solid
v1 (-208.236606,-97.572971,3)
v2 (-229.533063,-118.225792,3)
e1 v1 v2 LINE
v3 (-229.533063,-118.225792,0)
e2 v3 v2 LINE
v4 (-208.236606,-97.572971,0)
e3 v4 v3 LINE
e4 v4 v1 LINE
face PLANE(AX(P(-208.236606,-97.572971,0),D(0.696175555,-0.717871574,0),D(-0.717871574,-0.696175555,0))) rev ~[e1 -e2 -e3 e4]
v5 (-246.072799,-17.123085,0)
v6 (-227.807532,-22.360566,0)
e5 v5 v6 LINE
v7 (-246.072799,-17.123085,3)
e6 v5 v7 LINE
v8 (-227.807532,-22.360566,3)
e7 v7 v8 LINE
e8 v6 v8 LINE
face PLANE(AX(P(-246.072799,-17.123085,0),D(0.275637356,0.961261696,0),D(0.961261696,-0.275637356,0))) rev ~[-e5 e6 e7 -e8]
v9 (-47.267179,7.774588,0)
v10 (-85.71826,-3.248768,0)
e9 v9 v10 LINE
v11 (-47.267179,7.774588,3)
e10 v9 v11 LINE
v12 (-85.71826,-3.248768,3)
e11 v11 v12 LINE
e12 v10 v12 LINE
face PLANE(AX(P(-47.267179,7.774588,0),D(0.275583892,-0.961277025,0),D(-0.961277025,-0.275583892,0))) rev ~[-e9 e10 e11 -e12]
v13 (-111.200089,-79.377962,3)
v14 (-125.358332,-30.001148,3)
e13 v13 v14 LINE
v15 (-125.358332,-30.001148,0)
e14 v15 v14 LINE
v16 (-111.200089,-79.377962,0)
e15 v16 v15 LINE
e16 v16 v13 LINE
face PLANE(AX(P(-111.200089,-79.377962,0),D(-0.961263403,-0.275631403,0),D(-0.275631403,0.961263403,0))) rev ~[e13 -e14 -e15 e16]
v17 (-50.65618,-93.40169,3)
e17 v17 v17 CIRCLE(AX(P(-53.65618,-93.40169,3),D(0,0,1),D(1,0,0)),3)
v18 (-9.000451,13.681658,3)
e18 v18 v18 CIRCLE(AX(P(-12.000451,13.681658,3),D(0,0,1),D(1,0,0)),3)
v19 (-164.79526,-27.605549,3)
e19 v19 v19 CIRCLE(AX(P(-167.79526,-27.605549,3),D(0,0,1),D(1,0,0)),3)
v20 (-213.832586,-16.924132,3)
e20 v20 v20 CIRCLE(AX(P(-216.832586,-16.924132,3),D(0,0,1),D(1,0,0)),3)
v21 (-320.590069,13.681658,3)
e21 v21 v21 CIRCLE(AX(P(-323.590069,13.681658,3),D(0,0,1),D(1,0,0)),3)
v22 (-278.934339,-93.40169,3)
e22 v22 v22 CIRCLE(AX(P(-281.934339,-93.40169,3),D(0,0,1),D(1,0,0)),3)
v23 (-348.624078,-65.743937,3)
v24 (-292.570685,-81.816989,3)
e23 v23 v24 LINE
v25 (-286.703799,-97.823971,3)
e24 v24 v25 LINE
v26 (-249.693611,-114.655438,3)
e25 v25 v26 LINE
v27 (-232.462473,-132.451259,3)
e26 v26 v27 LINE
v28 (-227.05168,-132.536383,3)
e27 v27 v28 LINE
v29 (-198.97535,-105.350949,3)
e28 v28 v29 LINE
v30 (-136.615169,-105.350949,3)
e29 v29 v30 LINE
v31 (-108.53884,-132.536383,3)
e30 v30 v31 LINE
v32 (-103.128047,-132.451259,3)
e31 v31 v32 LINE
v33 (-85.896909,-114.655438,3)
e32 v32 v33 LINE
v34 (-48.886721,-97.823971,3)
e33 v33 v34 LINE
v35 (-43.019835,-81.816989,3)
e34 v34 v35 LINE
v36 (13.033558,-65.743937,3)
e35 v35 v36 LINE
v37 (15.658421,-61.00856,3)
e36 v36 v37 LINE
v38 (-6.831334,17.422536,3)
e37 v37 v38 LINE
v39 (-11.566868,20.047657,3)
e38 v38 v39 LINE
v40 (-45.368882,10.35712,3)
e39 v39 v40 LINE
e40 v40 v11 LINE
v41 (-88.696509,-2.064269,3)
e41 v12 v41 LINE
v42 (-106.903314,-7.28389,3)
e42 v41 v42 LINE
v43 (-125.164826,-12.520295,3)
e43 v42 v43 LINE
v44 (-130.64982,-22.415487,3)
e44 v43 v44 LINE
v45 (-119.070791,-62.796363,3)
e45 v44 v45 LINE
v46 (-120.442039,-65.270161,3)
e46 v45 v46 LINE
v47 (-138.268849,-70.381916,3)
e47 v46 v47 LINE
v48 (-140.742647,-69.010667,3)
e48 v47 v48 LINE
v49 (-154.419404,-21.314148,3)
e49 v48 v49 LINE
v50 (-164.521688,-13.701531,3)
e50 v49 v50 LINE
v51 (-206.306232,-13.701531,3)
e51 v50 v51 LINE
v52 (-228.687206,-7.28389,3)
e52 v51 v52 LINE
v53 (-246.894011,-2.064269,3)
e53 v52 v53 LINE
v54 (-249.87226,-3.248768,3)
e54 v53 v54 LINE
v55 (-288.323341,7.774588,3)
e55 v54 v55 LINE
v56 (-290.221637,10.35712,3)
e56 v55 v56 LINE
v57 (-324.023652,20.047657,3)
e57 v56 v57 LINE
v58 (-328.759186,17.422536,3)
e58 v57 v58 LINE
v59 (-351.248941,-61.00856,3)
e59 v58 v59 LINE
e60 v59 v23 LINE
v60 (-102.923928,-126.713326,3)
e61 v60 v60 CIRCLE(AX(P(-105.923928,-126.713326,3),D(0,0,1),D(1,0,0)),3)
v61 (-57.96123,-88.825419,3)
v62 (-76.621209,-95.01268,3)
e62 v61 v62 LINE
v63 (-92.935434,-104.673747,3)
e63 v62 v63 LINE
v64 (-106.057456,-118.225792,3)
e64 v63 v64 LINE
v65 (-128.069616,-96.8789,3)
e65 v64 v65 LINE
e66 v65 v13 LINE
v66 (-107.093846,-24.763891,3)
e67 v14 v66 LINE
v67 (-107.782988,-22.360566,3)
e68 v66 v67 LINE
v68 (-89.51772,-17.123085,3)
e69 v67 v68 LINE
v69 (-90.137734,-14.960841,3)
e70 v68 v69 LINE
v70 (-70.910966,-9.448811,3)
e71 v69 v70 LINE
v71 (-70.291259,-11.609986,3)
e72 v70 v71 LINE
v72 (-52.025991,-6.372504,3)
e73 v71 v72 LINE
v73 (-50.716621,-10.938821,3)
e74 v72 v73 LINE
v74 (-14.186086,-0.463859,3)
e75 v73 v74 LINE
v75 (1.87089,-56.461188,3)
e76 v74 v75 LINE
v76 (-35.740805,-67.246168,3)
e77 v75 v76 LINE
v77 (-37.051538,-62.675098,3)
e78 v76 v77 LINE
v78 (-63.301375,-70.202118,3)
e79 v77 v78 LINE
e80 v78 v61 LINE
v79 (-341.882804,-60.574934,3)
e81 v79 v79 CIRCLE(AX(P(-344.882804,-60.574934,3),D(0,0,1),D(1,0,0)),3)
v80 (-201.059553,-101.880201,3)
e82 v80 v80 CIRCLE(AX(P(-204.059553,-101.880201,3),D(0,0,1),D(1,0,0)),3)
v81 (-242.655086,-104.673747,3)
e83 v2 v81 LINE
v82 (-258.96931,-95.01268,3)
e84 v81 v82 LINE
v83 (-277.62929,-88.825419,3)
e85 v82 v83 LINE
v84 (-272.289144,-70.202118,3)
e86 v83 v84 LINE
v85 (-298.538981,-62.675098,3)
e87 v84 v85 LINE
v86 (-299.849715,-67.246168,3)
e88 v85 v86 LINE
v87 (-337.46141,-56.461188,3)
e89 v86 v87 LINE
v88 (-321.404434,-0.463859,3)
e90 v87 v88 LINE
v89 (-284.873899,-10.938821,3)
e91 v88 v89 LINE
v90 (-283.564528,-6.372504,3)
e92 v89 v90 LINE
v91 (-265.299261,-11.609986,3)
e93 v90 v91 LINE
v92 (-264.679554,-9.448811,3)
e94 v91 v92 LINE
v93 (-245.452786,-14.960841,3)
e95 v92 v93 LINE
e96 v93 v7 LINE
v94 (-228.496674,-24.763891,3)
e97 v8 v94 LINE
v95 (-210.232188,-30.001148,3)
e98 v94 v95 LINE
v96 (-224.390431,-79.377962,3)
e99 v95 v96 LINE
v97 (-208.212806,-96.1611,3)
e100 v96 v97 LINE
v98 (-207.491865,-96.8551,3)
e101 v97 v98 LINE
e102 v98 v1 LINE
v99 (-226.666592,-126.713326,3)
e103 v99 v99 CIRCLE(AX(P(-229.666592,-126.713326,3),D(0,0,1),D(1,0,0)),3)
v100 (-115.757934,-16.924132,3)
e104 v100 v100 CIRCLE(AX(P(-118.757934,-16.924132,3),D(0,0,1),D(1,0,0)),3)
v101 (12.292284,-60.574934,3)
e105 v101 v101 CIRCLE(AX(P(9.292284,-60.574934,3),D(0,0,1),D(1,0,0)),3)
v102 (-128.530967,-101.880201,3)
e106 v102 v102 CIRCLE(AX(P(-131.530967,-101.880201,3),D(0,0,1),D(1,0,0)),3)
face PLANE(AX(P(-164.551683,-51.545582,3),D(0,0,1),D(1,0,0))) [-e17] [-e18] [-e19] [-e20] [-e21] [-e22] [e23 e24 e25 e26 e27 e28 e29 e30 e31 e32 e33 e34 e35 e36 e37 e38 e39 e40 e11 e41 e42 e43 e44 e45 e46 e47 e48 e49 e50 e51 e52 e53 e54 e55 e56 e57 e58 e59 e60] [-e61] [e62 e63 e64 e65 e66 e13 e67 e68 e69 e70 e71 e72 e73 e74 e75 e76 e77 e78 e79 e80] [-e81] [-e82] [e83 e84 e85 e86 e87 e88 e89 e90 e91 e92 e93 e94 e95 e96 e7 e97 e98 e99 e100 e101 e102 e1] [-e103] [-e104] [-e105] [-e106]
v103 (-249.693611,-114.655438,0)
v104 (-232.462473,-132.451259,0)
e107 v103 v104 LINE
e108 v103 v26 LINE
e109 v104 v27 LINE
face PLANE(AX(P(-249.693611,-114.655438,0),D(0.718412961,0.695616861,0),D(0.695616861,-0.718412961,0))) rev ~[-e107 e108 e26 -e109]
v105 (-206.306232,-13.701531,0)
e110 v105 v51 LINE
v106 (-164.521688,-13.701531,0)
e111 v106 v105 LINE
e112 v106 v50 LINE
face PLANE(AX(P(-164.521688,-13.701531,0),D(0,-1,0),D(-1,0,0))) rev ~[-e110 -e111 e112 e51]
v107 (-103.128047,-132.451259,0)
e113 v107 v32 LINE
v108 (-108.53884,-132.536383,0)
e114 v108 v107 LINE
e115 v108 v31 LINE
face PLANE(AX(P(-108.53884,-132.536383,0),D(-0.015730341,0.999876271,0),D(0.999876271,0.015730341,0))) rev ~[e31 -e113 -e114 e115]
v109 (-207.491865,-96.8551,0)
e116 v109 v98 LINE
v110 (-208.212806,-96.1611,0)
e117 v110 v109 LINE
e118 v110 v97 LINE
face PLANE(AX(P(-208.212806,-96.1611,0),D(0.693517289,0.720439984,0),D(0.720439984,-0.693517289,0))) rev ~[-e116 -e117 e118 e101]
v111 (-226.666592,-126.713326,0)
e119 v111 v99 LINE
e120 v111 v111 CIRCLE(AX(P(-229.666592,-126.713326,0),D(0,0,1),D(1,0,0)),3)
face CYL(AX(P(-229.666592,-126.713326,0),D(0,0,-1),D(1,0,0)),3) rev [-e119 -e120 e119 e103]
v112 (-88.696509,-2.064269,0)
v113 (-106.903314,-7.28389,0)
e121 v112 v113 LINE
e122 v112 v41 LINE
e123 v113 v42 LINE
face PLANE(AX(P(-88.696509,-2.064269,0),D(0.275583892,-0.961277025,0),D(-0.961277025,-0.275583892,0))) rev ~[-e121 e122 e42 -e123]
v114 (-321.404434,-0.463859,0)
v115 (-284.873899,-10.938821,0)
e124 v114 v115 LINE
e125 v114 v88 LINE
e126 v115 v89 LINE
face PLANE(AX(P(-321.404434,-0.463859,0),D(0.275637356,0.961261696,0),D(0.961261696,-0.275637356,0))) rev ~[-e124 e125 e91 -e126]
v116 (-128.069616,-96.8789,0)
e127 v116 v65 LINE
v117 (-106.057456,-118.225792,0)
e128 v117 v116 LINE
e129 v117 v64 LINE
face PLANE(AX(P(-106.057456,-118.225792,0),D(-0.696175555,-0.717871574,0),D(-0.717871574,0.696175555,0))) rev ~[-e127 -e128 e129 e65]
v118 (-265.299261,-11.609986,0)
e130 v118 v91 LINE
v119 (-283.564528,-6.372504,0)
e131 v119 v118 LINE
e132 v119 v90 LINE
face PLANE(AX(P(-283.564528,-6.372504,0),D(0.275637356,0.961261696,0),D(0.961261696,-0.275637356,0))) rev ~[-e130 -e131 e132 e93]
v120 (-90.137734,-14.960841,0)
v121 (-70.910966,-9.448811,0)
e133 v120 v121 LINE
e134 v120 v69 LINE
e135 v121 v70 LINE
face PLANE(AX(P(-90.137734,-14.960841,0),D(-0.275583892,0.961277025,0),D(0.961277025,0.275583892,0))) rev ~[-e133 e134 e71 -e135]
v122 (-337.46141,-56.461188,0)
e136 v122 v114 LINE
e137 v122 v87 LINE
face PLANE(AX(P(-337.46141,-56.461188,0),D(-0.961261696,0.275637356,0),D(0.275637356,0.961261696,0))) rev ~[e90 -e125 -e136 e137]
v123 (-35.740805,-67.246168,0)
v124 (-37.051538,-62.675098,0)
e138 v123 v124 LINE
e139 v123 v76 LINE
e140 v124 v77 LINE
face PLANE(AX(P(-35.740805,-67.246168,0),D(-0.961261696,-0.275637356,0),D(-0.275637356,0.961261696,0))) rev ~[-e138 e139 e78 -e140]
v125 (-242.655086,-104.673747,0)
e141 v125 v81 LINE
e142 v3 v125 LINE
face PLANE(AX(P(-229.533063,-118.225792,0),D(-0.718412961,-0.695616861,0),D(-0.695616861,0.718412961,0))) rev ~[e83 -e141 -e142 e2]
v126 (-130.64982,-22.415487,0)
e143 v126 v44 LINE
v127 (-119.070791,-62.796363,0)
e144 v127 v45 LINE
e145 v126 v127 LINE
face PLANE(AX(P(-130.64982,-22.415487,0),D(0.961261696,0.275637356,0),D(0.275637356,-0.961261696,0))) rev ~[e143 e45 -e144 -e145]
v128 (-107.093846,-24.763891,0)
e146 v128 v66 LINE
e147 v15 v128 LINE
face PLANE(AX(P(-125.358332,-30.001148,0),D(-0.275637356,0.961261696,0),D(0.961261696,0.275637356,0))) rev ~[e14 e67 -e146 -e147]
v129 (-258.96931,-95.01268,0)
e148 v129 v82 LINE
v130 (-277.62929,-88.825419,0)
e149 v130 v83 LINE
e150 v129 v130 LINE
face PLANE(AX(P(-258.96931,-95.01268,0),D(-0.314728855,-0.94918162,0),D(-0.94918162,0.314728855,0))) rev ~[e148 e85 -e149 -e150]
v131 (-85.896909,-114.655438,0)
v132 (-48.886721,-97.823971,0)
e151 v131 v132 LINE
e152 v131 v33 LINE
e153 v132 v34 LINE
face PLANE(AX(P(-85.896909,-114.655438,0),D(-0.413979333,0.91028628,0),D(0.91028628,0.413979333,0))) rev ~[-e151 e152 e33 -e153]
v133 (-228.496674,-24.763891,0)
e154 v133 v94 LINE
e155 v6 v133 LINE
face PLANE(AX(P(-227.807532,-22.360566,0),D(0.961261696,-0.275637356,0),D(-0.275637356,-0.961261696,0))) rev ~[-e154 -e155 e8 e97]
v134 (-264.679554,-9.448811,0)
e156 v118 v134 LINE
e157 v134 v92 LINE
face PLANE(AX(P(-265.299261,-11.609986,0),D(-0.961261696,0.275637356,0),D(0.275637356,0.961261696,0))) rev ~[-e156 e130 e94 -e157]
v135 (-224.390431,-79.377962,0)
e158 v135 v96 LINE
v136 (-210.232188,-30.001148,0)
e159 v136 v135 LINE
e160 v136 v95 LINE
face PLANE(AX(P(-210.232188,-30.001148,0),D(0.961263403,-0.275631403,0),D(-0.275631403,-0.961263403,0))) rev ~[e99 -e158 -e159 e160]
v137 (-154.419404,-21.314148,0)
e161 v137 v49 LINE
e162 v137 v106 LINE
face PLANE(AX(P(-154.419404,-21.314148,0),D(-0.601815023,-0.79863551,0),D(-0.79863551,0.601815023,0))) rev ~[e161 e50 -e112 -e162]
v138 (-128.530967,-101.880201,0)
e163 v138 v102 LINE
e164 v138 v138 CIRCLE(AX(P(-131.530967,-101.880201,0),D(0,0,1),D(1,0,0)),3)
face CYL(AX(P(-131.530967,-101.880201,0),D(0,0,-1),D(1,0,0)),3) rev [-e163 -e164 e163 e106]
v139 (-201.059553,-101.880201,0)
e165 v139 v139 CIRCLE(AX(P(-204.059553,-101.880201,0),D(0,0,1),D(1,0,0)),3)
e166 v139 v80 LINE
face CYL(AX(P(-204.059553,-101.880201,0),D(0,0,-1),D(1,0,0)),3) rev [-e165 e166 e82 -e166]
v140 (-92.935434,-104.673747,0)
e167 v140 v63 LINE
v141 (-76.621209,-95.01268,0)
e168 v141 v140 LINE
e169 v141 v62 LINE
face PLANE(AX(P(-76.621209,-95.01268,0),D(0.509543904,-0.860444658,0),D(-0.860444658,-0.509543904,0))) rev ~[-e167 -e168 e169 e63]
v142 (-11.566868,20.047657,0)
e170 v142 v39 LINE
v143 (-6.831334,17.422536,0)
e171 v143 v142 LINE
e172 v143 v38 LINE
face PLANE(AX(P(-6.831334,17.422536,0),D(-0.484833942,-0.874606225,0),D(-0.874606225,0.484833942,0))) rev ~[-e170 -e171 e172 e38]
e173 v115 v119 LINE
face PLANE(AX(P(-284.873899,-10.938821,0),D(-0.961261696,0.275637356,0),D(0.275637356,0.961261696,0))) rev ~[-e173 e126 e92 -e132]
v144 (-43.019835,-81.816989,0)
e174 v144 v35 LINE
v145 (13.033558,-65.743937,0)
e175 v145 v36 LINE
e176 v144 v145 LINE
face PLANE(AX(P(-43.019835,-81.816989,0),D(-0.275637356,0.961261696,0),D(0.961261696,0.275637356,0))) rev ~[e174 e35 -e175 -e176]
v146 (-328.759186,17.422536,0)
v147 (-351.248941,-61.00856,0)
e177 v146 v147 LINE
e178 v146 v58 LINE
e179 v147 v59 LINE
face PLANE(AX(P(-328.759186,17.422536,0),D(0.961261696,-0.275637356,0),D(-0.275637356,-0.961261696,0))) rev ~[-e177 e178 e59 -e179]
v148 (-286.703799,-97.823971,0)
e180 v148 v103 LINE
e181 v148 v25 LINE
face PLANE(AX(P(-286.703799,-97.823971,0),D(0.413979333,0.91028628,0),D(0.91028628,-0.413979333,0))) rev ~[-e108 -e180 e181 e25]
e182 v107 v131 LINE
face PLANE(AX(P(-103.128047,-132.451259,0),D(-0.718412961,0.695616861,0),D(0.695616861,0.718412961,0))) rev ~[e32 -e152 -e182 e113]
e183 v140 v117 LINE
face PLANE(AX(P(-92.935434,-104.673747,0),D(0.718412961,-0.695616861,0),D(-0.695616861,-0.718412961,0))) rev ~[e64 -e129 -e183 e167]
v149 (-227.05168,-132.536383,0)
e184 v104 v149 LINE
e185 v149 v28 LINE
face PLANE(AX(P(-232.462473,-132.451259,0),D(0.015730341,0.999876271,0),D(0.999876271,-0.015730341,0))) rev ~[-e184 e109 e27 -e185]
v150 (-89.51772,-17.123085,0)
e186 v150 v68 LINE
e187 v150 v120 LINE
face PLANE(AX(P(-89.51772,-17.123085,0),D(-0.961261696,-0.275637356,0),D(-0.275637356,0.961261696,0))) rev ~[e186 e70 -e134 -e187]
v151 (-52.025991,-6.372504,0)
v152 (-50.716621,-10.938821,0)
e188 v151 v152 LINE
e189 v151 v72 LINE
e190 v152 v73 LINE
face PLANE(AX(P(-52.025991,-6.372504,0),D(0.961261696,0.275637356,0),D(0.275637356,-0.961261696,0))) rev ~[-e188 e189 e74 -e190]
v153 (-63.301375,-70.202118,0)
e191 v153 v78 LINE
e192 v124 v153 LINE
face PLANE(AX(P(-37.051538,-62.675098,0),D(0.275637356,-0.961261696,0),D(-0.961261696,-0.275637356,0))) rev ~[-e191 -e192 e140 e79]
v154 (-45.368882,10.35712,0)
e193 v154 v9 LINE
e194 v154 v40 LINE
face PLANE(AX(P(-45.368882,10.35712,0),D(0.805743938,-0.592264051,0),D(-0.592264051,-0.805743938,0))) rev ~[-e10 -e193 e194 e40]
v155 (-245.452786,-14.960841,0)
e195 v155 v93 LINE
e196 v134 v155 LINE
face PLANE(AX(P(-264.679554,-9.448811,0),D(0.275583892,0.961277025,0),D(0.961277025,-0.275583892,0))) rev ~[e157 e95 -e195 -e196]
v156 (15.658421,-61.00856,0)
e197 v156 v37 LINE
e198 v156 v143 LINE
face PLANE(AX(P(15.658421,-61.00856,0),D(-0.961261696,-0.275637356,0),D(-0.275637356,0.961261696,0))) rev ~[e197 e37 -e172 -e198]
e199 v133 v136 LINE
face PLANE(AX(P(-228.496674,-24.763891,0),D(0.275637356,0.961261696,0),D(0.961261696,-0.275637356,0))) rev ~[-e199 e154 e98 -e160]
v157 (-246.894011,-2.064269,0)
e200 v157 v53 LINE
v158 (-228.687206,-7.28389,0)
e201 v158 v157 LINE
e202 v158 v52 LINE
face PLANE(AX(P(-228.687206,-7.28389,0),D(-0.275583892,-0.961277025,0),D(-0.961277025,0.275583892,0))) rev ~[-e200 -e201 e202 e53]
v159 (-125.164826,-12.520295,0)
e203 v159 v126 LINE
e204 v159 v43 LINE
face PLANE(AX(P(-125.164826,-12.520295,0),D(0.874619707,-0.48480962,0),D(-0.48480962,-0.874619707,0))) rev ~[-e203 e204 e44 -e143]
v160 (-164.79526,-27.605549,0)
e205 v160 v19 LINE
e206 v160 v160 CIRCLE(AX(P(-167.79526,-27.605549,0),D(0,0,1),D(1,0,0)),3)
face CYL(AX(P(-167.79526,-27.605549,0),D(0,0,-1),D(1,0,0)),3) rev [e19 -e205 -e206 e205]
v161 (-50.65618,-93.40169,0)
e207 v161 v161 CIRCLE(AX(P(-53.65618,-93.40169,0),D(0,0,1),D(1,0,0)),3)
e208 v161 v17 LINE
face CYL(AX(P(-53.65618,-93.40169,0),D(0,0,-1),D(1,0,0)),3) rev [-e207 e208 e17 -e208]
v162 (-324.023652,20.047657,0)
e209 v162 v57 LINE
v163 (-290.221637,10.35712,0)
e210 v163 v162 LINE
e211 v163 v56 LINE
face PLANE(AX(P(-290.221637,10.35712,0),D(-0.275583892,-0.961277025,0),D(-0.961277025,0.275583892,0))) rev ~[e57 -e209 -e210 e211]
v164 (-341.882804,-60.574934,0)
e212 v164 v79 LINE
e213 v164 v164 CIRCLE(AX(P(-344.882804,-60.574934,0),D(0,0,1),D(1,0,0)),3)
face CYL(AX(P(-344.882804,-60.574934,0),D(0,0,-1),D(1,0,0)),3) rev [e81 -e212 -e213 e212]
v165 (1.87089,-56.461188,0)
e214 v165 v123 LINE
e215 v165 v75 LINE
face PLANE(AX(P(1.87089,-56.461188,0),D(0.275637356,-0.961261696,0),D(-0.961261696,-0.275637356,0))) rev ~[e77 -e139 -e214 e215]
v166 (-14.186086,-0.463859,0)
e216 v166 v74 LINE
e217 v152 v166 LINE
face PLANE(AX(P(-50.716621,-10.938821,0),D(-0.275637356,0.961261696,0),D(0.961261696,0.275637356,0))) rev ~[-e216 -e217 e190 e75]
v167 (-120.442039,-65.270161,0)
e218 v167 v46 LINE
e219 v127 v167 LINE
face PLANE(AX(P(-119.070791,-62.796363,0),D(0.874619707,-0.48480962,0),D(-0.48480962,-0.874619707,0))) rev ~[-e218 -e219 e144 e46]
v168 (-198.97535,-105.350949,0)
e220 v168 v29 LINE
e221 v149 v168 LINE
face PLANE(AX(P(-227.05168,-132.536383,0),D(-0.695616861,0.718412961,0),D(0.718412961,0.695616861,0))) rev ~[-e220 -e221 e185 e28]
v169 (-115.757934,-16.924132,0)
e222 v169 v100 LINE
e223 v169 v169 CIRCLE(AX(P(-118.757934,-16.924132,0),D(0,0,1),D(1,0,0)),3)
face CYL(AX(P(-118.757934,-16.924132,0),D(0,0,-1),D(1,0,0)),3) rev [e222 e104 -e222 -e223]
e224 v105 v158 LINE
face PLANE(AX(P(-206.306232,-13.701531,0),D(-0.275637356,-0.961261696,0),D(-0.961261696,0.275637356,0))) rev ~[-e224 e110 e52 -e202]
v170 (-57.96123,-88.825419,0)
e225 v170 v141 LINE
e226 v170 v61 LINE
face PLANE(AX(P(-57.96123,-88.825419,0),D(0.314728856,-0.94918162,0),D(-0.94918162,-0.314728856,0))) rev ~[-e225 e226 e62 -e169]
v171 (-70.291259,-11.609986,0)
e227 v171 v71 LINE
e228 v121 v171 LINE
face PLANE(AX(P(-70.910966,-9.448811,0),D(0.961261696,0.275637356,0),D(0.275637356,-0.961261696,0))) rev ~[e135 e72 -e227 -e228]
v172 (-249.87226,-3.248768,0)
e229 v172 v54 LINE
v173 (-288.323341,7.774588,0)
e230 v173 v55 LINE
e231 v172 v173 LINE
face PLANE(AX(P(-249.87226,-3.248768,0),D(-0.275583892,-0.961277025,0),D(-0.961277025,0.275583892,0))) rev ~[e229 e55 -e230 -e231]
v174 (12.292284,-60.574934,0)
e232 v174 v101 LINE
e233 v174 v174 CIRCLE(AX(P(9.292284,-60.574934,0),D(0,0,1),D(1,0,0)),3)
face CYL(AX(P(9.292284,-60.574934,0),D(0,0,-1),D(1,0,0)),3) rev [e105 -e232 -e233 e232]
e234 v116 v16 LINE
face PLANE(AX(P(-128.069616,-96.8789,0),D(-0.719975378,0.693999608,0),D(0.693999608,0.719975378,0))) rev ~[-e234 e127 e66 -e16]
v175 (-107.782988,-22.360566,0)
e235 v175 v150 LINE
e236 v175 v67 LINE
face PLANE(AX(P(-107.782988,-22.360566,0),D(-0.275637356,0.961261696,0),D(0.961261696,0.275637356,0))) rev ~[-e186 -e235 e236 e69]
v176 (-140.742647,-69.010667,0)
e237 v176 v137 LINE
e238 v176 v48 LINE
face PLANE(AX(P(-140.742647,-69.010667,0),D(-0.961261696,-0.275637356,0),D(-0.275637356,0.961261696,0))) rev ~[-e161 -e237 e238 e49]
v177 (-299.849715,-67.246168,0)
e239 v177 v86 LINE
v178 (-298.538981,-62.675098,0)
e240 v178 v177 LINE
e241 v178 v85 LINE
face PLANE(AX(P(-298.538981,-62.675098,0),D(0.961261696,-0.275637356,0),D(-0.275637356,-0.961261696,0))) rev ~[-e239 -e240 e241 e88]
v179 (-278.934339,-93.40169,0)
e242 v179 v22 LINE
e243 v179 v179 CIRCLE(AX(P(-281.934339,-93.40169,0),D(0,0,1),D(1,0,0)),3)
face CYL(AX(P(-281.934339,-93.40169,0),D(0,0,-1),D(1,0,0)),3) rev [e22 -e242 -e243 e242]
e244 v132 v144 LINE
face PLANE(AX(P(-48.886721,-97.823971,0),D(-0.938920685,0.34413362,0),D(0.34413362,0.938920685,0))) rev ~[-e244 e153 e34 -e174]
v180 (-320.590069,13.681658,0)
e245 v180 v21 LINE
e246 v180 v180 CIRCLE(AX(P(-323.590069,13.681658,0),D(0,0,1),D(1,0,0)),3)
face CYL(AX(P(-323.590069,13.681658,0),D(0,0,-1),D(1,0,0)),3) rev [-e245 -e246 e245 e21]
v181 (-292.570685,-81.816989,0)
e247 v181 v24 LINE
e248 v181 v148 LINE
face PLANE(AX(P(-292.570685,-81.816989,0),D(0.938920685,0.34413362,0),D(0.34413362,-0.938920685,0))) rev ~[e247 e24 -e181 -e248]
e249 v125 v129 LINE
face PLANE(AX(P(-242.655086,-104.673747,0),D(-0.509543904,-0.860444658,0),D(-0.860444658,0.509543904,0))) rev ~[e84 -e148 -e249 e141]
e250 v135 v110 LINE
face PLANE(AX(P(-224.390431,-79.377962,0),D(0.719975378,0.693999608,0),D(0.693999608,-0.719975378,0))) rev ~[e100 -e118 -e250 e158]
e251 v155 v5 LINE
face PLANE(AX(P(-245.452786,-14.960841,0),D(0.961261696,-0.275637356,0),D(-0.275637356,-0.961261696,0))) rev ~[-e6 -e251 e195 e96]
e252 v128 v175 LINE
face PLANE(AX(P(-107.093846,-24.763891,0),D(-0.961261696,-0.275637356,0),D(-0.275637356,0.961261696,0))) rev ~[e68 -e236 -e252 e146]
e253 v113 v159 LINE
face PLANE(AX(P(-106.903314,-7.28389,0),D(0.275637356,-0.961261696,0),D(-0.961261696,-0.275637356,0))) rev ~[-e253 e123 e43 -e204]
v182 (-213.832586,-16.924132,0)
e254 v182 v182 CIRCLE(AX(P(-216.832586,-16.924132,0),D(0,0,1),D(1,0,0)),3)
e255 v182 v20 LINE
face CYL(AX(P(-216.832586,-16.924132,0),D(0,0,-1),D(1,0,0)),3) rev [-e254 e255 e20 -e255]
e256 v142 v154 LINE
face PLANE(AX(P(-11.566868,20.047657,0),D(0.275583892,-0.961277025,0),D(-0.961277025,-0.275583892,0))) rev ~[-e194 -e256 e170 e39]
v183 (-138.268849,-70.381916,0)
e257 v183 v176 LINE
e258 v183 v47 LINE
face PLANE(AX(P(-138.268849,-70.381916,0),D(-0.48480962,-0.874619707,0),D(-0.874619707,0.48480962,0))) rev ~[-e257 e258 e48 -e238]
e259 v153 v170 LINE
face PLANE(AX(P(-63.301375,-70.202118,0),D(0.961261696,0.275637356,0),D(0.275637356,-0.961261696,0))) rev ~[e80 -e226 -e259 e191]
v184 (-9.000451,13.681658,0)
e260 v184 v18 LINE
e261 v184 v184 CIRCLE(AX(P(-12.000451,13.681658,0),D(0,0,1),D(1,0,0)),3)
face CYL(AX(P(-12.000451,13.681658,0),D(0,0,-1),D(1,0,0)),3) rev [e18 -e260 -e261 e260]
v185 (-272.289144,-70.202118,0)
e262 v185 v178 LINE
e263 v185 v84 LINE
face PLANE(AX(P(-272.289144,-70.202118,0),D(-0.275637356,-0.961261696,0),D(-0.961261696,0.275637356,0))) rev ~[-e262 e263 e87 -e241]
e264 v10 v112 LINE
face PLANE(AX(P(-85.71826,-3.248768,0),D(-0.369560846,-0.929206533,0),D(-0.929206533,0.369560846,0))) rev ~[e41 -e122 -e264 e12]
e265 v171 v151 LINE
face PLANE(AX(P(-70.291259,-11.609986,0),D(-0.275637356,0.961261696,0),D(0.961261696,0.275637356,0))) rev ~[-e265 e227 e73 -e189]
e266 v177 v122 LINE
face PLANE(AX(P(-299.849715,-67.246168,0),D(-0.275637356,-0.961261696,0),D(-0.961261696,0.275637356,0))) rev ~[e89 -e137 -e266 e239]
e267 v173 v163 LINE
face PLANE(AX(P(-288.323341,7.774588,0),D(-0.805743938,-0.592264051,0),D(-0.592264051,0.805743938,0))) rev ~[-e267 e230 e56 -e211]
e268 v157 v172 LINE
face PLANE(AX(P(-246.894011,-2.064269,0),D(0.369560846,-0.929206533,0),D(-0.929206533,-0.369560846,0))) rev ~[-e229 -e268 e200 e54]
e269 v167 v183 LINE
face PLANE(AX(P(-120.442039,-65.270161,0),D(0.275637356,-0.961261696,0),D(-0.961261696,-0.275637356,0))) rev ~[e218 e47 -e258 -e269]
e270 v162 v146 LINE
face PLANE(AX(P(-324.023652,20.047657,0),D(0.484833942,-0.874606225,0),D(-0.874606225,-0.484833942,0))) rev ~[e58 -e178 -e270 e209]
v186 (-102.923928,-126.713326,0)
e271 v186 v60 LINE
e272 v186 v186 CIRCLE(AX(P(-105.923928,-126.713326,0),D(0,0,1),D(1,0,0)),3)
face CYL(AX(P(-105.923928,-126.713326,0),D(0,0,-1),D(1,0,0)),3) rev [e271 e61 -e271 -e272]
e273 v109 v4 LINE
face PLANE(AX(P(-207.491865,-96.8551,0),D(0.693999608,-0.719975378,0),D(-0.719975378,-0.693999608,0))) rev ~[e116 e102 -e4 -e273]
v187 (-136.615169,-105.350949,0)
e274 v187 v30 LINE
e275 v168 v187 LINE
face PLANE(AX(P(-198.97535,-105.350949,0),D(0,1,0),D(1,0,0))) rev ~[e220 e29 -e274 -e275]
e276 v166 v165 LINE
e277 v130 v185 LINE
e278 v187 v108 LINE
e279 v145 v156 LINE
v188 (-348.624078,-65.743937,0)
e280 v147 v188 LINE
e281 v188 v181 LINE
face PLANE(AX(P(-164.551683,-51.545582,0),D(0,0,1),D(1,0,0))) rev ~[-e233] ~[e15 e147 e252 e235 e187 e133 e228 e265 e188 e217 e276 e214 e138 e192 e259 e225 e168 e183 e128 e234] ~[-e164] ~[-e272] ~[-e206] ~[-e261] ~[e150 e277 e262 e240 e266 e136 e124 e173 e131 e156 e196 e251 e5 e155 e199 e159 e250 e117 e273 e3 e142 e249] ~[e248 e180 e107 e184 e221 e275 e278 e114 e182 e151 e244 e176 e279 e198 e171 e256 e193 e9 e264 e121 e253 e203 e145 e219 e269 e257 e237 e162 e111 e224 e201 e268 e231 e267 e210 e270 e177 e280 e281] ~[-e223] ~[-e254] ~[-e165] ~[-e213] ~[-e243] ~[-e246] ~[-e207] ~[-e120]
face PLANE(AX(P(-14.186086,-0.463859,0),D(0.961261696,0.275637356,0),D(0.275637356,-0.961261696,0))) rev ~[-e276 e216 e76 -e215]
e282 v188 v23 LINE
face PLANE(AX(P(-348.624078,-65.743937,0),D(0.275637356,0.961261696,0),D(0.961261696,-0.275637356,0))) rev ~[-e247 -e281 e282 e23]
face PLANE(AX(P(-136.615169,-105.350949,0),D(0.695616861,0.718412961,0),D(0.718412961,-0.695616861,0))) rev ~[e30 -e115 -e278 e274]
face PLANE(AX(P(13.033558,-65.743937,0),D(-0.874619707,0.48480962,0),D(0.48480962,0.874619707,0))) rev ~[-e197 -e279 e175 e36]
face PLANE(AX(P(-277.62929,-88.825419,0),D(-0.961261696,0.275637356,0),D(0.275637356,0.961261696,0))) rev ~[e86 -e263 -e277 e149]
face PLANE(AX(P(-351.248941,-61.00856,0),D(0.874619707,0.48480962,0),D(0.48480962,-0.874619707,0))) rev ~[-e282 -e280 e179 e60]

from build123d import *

# Parameters (mm, degrees)
ESQUISSE1_R        = 3
BOSS_EXTRU_1_DEPTH = 3


with BuildPart() as part:
    # Esquisse1 → Boss.-Extru.1 (new body)
    with BuildSketch(Plane.XY):
        Polygon((-130.649820486, -22.415487094), (-119.070790786, -62.796362516), (-120.442039466, -65.27016062), (-138.268849115, -70.381916029), (-140.742647218, -69.010667349), (-154.419403971, -21.314148304), (-164.521687886, -13.701531345), (-206.306232172, -13.701531345), (-228.687205956, -7.283890383), (-246.894010665, -2.064269008), (-249.872259625, -3.248768002), (-288.323340616, 7.774587685), (-290.221637422, 10.357120157), (-324.023652204, 20.047657387), (-328.759186056, 17.422535954), (-351.248940808, -61.008559605), (-348.624077987, -65.743937486), (-292.570685007, -81.816989279), (-286.703799003, -97.823971184), (-249.693611115, -114.655437515), (-232.462472657, -132.451258614), (-227.051679806, -132.536382762), (-198.975350278, -105.350948678), (-136.615169465, -105.350948678), (-108.538839937, -132.536382762), (-103.128047086, -132.451258614), (-85.896908628, -114.655437515), (-48.88672074, -97.823971184), (-43.019834736, -81.816989279), (13.033558244, -65.743937486), (15.658421065, -61.008559605), (-6.831333687, 17.422535954), (-11.566867539, 20.047657387), (-45.368882322, 10.357120157), (-47.267179127, 7.774587685), (-85.718260118, -3.248768002), (-88.696509078, -2.064269008), (-106.903313787, -7.283890383), (-125.164825765, -12.52029468), align=None)
        with Locations((9.292284284, -60.574933915)):
            Circle(ESQUISSE1_R, mode=Mode.SUBTRACT)
        with Locations((-323.590068827, 13.68165837)):
            Circle(ESQUISSE1_R, mode=Mode.SUBTRACT)
        with Locations((-216.832585966, -16.924131519)):
            Circle(ESQUISSE1_R, mode=Mode.SUBTRACT)
        with Locations((-167.795259872, -27.605548894)):
            Circle(ESQUISSE1_R, mode=Mode.SUBTRACT)
        with Locations((-118.757933777, -16.924131519)):
            Circle(ESQUISSE1_R, mode=Mode.SUBTRACT)
        with Locations((-12.000450916, 13.68165837)):
            Circle(ESQUISSE1_R, mode=Mode.SUBTRACT)
        with Locations((-229.666591606, -126.713325795)):
            Circle(ESQUISSE1_R, mode=Mode.SUBTRACT)
        with Locations((-204.059552706, -101.880200807)):
            Circle(ESQUISSE1_R, mode=Mode.SUBTRACT)
        with Locations((-281.934339477, -93.401689518)):
            Circle(ESQUISSE1_R, mode=Mode.SUBTRACT)
        with Locations((-344.882804027, -60.574933915)):
            Circle(ESQUISSE1_R, mode=Mode.SUBTRACT)
        Polygon((-210.232188047, -30.001147656), (-224.390430785, -79.377961929), (-208.212806214, -96.161100182), (-207.491865187, -96.85509979), (-208.236606037, -97.572971364), (-229.533063287, -118.225792128), (-242.655085998, -104.673746846), (-258.969310369, -95.012679745), (-277.629290011, -88.825419148), (-272.289144354, -70.202118055), (-298.538981418, -62.6750984), (-299.849714513, -67.246167925), (-337.461409717, -56.461187875), (-321.404434006, -0.463858857), (-284.873898651, -10.938821309), (-283.564528345, -6.372504389), (-265.299260667, -11.609985616), (-264.679553884, -9.448811229), (-245.452786066, -14.960840928), (-246.072799476, -17.123084647), (-227.807531798, -22.360565873), (-228.496674065, -24.763890567), align=None, mode=Mode.SUBTRACT)
        with Locations((-105.923928137, -126.713325795)):
            Circle(ESQUISSE1_R, mode=Mode.SUBTRACT)
        with Locations((-131.530967037, -101.880200807)):
            Circle(ESQUISSE1_R, mode=Mode.SUBTRACT)
        with Locations((-53.656180266, -93.401689518)):
            Circle(ESQUISSE1_R, mode=Mode.SUBTRACT)
        Polygon((-106.057456456, -118.225792128), (-128.0696158, -96.878899722), (-111.200088958, -79.377961929), (-125.358331696, -30.001147656), (-107.093845678, -24.763890567), (-107.782987945, -22.360565873), (-89.517720268, -17.123084647), (-90.137733677, -14.960840928), (-70.910965859, -9.448811229), (-70.291259076, -11.609985616), (-52.025991399, -6.372504389), (-50.716621092, -10.938821309), (-14.186085737, -0.463858857), (1.870889973, -56.461187875), (-35.740805231, -67.246167925), (-37.051538325, -62.6750984), (-63.301375389, -70.202118055), (-57.961229733, -88.825419148), (-76.621209374, -95.012679745), (-92.935433745, -104.673746846), align=None, mode=Mode.SUBTRACT)
    extrude(amount=BOSS_EXTRU_1_DEPTH)


solid = part.part
